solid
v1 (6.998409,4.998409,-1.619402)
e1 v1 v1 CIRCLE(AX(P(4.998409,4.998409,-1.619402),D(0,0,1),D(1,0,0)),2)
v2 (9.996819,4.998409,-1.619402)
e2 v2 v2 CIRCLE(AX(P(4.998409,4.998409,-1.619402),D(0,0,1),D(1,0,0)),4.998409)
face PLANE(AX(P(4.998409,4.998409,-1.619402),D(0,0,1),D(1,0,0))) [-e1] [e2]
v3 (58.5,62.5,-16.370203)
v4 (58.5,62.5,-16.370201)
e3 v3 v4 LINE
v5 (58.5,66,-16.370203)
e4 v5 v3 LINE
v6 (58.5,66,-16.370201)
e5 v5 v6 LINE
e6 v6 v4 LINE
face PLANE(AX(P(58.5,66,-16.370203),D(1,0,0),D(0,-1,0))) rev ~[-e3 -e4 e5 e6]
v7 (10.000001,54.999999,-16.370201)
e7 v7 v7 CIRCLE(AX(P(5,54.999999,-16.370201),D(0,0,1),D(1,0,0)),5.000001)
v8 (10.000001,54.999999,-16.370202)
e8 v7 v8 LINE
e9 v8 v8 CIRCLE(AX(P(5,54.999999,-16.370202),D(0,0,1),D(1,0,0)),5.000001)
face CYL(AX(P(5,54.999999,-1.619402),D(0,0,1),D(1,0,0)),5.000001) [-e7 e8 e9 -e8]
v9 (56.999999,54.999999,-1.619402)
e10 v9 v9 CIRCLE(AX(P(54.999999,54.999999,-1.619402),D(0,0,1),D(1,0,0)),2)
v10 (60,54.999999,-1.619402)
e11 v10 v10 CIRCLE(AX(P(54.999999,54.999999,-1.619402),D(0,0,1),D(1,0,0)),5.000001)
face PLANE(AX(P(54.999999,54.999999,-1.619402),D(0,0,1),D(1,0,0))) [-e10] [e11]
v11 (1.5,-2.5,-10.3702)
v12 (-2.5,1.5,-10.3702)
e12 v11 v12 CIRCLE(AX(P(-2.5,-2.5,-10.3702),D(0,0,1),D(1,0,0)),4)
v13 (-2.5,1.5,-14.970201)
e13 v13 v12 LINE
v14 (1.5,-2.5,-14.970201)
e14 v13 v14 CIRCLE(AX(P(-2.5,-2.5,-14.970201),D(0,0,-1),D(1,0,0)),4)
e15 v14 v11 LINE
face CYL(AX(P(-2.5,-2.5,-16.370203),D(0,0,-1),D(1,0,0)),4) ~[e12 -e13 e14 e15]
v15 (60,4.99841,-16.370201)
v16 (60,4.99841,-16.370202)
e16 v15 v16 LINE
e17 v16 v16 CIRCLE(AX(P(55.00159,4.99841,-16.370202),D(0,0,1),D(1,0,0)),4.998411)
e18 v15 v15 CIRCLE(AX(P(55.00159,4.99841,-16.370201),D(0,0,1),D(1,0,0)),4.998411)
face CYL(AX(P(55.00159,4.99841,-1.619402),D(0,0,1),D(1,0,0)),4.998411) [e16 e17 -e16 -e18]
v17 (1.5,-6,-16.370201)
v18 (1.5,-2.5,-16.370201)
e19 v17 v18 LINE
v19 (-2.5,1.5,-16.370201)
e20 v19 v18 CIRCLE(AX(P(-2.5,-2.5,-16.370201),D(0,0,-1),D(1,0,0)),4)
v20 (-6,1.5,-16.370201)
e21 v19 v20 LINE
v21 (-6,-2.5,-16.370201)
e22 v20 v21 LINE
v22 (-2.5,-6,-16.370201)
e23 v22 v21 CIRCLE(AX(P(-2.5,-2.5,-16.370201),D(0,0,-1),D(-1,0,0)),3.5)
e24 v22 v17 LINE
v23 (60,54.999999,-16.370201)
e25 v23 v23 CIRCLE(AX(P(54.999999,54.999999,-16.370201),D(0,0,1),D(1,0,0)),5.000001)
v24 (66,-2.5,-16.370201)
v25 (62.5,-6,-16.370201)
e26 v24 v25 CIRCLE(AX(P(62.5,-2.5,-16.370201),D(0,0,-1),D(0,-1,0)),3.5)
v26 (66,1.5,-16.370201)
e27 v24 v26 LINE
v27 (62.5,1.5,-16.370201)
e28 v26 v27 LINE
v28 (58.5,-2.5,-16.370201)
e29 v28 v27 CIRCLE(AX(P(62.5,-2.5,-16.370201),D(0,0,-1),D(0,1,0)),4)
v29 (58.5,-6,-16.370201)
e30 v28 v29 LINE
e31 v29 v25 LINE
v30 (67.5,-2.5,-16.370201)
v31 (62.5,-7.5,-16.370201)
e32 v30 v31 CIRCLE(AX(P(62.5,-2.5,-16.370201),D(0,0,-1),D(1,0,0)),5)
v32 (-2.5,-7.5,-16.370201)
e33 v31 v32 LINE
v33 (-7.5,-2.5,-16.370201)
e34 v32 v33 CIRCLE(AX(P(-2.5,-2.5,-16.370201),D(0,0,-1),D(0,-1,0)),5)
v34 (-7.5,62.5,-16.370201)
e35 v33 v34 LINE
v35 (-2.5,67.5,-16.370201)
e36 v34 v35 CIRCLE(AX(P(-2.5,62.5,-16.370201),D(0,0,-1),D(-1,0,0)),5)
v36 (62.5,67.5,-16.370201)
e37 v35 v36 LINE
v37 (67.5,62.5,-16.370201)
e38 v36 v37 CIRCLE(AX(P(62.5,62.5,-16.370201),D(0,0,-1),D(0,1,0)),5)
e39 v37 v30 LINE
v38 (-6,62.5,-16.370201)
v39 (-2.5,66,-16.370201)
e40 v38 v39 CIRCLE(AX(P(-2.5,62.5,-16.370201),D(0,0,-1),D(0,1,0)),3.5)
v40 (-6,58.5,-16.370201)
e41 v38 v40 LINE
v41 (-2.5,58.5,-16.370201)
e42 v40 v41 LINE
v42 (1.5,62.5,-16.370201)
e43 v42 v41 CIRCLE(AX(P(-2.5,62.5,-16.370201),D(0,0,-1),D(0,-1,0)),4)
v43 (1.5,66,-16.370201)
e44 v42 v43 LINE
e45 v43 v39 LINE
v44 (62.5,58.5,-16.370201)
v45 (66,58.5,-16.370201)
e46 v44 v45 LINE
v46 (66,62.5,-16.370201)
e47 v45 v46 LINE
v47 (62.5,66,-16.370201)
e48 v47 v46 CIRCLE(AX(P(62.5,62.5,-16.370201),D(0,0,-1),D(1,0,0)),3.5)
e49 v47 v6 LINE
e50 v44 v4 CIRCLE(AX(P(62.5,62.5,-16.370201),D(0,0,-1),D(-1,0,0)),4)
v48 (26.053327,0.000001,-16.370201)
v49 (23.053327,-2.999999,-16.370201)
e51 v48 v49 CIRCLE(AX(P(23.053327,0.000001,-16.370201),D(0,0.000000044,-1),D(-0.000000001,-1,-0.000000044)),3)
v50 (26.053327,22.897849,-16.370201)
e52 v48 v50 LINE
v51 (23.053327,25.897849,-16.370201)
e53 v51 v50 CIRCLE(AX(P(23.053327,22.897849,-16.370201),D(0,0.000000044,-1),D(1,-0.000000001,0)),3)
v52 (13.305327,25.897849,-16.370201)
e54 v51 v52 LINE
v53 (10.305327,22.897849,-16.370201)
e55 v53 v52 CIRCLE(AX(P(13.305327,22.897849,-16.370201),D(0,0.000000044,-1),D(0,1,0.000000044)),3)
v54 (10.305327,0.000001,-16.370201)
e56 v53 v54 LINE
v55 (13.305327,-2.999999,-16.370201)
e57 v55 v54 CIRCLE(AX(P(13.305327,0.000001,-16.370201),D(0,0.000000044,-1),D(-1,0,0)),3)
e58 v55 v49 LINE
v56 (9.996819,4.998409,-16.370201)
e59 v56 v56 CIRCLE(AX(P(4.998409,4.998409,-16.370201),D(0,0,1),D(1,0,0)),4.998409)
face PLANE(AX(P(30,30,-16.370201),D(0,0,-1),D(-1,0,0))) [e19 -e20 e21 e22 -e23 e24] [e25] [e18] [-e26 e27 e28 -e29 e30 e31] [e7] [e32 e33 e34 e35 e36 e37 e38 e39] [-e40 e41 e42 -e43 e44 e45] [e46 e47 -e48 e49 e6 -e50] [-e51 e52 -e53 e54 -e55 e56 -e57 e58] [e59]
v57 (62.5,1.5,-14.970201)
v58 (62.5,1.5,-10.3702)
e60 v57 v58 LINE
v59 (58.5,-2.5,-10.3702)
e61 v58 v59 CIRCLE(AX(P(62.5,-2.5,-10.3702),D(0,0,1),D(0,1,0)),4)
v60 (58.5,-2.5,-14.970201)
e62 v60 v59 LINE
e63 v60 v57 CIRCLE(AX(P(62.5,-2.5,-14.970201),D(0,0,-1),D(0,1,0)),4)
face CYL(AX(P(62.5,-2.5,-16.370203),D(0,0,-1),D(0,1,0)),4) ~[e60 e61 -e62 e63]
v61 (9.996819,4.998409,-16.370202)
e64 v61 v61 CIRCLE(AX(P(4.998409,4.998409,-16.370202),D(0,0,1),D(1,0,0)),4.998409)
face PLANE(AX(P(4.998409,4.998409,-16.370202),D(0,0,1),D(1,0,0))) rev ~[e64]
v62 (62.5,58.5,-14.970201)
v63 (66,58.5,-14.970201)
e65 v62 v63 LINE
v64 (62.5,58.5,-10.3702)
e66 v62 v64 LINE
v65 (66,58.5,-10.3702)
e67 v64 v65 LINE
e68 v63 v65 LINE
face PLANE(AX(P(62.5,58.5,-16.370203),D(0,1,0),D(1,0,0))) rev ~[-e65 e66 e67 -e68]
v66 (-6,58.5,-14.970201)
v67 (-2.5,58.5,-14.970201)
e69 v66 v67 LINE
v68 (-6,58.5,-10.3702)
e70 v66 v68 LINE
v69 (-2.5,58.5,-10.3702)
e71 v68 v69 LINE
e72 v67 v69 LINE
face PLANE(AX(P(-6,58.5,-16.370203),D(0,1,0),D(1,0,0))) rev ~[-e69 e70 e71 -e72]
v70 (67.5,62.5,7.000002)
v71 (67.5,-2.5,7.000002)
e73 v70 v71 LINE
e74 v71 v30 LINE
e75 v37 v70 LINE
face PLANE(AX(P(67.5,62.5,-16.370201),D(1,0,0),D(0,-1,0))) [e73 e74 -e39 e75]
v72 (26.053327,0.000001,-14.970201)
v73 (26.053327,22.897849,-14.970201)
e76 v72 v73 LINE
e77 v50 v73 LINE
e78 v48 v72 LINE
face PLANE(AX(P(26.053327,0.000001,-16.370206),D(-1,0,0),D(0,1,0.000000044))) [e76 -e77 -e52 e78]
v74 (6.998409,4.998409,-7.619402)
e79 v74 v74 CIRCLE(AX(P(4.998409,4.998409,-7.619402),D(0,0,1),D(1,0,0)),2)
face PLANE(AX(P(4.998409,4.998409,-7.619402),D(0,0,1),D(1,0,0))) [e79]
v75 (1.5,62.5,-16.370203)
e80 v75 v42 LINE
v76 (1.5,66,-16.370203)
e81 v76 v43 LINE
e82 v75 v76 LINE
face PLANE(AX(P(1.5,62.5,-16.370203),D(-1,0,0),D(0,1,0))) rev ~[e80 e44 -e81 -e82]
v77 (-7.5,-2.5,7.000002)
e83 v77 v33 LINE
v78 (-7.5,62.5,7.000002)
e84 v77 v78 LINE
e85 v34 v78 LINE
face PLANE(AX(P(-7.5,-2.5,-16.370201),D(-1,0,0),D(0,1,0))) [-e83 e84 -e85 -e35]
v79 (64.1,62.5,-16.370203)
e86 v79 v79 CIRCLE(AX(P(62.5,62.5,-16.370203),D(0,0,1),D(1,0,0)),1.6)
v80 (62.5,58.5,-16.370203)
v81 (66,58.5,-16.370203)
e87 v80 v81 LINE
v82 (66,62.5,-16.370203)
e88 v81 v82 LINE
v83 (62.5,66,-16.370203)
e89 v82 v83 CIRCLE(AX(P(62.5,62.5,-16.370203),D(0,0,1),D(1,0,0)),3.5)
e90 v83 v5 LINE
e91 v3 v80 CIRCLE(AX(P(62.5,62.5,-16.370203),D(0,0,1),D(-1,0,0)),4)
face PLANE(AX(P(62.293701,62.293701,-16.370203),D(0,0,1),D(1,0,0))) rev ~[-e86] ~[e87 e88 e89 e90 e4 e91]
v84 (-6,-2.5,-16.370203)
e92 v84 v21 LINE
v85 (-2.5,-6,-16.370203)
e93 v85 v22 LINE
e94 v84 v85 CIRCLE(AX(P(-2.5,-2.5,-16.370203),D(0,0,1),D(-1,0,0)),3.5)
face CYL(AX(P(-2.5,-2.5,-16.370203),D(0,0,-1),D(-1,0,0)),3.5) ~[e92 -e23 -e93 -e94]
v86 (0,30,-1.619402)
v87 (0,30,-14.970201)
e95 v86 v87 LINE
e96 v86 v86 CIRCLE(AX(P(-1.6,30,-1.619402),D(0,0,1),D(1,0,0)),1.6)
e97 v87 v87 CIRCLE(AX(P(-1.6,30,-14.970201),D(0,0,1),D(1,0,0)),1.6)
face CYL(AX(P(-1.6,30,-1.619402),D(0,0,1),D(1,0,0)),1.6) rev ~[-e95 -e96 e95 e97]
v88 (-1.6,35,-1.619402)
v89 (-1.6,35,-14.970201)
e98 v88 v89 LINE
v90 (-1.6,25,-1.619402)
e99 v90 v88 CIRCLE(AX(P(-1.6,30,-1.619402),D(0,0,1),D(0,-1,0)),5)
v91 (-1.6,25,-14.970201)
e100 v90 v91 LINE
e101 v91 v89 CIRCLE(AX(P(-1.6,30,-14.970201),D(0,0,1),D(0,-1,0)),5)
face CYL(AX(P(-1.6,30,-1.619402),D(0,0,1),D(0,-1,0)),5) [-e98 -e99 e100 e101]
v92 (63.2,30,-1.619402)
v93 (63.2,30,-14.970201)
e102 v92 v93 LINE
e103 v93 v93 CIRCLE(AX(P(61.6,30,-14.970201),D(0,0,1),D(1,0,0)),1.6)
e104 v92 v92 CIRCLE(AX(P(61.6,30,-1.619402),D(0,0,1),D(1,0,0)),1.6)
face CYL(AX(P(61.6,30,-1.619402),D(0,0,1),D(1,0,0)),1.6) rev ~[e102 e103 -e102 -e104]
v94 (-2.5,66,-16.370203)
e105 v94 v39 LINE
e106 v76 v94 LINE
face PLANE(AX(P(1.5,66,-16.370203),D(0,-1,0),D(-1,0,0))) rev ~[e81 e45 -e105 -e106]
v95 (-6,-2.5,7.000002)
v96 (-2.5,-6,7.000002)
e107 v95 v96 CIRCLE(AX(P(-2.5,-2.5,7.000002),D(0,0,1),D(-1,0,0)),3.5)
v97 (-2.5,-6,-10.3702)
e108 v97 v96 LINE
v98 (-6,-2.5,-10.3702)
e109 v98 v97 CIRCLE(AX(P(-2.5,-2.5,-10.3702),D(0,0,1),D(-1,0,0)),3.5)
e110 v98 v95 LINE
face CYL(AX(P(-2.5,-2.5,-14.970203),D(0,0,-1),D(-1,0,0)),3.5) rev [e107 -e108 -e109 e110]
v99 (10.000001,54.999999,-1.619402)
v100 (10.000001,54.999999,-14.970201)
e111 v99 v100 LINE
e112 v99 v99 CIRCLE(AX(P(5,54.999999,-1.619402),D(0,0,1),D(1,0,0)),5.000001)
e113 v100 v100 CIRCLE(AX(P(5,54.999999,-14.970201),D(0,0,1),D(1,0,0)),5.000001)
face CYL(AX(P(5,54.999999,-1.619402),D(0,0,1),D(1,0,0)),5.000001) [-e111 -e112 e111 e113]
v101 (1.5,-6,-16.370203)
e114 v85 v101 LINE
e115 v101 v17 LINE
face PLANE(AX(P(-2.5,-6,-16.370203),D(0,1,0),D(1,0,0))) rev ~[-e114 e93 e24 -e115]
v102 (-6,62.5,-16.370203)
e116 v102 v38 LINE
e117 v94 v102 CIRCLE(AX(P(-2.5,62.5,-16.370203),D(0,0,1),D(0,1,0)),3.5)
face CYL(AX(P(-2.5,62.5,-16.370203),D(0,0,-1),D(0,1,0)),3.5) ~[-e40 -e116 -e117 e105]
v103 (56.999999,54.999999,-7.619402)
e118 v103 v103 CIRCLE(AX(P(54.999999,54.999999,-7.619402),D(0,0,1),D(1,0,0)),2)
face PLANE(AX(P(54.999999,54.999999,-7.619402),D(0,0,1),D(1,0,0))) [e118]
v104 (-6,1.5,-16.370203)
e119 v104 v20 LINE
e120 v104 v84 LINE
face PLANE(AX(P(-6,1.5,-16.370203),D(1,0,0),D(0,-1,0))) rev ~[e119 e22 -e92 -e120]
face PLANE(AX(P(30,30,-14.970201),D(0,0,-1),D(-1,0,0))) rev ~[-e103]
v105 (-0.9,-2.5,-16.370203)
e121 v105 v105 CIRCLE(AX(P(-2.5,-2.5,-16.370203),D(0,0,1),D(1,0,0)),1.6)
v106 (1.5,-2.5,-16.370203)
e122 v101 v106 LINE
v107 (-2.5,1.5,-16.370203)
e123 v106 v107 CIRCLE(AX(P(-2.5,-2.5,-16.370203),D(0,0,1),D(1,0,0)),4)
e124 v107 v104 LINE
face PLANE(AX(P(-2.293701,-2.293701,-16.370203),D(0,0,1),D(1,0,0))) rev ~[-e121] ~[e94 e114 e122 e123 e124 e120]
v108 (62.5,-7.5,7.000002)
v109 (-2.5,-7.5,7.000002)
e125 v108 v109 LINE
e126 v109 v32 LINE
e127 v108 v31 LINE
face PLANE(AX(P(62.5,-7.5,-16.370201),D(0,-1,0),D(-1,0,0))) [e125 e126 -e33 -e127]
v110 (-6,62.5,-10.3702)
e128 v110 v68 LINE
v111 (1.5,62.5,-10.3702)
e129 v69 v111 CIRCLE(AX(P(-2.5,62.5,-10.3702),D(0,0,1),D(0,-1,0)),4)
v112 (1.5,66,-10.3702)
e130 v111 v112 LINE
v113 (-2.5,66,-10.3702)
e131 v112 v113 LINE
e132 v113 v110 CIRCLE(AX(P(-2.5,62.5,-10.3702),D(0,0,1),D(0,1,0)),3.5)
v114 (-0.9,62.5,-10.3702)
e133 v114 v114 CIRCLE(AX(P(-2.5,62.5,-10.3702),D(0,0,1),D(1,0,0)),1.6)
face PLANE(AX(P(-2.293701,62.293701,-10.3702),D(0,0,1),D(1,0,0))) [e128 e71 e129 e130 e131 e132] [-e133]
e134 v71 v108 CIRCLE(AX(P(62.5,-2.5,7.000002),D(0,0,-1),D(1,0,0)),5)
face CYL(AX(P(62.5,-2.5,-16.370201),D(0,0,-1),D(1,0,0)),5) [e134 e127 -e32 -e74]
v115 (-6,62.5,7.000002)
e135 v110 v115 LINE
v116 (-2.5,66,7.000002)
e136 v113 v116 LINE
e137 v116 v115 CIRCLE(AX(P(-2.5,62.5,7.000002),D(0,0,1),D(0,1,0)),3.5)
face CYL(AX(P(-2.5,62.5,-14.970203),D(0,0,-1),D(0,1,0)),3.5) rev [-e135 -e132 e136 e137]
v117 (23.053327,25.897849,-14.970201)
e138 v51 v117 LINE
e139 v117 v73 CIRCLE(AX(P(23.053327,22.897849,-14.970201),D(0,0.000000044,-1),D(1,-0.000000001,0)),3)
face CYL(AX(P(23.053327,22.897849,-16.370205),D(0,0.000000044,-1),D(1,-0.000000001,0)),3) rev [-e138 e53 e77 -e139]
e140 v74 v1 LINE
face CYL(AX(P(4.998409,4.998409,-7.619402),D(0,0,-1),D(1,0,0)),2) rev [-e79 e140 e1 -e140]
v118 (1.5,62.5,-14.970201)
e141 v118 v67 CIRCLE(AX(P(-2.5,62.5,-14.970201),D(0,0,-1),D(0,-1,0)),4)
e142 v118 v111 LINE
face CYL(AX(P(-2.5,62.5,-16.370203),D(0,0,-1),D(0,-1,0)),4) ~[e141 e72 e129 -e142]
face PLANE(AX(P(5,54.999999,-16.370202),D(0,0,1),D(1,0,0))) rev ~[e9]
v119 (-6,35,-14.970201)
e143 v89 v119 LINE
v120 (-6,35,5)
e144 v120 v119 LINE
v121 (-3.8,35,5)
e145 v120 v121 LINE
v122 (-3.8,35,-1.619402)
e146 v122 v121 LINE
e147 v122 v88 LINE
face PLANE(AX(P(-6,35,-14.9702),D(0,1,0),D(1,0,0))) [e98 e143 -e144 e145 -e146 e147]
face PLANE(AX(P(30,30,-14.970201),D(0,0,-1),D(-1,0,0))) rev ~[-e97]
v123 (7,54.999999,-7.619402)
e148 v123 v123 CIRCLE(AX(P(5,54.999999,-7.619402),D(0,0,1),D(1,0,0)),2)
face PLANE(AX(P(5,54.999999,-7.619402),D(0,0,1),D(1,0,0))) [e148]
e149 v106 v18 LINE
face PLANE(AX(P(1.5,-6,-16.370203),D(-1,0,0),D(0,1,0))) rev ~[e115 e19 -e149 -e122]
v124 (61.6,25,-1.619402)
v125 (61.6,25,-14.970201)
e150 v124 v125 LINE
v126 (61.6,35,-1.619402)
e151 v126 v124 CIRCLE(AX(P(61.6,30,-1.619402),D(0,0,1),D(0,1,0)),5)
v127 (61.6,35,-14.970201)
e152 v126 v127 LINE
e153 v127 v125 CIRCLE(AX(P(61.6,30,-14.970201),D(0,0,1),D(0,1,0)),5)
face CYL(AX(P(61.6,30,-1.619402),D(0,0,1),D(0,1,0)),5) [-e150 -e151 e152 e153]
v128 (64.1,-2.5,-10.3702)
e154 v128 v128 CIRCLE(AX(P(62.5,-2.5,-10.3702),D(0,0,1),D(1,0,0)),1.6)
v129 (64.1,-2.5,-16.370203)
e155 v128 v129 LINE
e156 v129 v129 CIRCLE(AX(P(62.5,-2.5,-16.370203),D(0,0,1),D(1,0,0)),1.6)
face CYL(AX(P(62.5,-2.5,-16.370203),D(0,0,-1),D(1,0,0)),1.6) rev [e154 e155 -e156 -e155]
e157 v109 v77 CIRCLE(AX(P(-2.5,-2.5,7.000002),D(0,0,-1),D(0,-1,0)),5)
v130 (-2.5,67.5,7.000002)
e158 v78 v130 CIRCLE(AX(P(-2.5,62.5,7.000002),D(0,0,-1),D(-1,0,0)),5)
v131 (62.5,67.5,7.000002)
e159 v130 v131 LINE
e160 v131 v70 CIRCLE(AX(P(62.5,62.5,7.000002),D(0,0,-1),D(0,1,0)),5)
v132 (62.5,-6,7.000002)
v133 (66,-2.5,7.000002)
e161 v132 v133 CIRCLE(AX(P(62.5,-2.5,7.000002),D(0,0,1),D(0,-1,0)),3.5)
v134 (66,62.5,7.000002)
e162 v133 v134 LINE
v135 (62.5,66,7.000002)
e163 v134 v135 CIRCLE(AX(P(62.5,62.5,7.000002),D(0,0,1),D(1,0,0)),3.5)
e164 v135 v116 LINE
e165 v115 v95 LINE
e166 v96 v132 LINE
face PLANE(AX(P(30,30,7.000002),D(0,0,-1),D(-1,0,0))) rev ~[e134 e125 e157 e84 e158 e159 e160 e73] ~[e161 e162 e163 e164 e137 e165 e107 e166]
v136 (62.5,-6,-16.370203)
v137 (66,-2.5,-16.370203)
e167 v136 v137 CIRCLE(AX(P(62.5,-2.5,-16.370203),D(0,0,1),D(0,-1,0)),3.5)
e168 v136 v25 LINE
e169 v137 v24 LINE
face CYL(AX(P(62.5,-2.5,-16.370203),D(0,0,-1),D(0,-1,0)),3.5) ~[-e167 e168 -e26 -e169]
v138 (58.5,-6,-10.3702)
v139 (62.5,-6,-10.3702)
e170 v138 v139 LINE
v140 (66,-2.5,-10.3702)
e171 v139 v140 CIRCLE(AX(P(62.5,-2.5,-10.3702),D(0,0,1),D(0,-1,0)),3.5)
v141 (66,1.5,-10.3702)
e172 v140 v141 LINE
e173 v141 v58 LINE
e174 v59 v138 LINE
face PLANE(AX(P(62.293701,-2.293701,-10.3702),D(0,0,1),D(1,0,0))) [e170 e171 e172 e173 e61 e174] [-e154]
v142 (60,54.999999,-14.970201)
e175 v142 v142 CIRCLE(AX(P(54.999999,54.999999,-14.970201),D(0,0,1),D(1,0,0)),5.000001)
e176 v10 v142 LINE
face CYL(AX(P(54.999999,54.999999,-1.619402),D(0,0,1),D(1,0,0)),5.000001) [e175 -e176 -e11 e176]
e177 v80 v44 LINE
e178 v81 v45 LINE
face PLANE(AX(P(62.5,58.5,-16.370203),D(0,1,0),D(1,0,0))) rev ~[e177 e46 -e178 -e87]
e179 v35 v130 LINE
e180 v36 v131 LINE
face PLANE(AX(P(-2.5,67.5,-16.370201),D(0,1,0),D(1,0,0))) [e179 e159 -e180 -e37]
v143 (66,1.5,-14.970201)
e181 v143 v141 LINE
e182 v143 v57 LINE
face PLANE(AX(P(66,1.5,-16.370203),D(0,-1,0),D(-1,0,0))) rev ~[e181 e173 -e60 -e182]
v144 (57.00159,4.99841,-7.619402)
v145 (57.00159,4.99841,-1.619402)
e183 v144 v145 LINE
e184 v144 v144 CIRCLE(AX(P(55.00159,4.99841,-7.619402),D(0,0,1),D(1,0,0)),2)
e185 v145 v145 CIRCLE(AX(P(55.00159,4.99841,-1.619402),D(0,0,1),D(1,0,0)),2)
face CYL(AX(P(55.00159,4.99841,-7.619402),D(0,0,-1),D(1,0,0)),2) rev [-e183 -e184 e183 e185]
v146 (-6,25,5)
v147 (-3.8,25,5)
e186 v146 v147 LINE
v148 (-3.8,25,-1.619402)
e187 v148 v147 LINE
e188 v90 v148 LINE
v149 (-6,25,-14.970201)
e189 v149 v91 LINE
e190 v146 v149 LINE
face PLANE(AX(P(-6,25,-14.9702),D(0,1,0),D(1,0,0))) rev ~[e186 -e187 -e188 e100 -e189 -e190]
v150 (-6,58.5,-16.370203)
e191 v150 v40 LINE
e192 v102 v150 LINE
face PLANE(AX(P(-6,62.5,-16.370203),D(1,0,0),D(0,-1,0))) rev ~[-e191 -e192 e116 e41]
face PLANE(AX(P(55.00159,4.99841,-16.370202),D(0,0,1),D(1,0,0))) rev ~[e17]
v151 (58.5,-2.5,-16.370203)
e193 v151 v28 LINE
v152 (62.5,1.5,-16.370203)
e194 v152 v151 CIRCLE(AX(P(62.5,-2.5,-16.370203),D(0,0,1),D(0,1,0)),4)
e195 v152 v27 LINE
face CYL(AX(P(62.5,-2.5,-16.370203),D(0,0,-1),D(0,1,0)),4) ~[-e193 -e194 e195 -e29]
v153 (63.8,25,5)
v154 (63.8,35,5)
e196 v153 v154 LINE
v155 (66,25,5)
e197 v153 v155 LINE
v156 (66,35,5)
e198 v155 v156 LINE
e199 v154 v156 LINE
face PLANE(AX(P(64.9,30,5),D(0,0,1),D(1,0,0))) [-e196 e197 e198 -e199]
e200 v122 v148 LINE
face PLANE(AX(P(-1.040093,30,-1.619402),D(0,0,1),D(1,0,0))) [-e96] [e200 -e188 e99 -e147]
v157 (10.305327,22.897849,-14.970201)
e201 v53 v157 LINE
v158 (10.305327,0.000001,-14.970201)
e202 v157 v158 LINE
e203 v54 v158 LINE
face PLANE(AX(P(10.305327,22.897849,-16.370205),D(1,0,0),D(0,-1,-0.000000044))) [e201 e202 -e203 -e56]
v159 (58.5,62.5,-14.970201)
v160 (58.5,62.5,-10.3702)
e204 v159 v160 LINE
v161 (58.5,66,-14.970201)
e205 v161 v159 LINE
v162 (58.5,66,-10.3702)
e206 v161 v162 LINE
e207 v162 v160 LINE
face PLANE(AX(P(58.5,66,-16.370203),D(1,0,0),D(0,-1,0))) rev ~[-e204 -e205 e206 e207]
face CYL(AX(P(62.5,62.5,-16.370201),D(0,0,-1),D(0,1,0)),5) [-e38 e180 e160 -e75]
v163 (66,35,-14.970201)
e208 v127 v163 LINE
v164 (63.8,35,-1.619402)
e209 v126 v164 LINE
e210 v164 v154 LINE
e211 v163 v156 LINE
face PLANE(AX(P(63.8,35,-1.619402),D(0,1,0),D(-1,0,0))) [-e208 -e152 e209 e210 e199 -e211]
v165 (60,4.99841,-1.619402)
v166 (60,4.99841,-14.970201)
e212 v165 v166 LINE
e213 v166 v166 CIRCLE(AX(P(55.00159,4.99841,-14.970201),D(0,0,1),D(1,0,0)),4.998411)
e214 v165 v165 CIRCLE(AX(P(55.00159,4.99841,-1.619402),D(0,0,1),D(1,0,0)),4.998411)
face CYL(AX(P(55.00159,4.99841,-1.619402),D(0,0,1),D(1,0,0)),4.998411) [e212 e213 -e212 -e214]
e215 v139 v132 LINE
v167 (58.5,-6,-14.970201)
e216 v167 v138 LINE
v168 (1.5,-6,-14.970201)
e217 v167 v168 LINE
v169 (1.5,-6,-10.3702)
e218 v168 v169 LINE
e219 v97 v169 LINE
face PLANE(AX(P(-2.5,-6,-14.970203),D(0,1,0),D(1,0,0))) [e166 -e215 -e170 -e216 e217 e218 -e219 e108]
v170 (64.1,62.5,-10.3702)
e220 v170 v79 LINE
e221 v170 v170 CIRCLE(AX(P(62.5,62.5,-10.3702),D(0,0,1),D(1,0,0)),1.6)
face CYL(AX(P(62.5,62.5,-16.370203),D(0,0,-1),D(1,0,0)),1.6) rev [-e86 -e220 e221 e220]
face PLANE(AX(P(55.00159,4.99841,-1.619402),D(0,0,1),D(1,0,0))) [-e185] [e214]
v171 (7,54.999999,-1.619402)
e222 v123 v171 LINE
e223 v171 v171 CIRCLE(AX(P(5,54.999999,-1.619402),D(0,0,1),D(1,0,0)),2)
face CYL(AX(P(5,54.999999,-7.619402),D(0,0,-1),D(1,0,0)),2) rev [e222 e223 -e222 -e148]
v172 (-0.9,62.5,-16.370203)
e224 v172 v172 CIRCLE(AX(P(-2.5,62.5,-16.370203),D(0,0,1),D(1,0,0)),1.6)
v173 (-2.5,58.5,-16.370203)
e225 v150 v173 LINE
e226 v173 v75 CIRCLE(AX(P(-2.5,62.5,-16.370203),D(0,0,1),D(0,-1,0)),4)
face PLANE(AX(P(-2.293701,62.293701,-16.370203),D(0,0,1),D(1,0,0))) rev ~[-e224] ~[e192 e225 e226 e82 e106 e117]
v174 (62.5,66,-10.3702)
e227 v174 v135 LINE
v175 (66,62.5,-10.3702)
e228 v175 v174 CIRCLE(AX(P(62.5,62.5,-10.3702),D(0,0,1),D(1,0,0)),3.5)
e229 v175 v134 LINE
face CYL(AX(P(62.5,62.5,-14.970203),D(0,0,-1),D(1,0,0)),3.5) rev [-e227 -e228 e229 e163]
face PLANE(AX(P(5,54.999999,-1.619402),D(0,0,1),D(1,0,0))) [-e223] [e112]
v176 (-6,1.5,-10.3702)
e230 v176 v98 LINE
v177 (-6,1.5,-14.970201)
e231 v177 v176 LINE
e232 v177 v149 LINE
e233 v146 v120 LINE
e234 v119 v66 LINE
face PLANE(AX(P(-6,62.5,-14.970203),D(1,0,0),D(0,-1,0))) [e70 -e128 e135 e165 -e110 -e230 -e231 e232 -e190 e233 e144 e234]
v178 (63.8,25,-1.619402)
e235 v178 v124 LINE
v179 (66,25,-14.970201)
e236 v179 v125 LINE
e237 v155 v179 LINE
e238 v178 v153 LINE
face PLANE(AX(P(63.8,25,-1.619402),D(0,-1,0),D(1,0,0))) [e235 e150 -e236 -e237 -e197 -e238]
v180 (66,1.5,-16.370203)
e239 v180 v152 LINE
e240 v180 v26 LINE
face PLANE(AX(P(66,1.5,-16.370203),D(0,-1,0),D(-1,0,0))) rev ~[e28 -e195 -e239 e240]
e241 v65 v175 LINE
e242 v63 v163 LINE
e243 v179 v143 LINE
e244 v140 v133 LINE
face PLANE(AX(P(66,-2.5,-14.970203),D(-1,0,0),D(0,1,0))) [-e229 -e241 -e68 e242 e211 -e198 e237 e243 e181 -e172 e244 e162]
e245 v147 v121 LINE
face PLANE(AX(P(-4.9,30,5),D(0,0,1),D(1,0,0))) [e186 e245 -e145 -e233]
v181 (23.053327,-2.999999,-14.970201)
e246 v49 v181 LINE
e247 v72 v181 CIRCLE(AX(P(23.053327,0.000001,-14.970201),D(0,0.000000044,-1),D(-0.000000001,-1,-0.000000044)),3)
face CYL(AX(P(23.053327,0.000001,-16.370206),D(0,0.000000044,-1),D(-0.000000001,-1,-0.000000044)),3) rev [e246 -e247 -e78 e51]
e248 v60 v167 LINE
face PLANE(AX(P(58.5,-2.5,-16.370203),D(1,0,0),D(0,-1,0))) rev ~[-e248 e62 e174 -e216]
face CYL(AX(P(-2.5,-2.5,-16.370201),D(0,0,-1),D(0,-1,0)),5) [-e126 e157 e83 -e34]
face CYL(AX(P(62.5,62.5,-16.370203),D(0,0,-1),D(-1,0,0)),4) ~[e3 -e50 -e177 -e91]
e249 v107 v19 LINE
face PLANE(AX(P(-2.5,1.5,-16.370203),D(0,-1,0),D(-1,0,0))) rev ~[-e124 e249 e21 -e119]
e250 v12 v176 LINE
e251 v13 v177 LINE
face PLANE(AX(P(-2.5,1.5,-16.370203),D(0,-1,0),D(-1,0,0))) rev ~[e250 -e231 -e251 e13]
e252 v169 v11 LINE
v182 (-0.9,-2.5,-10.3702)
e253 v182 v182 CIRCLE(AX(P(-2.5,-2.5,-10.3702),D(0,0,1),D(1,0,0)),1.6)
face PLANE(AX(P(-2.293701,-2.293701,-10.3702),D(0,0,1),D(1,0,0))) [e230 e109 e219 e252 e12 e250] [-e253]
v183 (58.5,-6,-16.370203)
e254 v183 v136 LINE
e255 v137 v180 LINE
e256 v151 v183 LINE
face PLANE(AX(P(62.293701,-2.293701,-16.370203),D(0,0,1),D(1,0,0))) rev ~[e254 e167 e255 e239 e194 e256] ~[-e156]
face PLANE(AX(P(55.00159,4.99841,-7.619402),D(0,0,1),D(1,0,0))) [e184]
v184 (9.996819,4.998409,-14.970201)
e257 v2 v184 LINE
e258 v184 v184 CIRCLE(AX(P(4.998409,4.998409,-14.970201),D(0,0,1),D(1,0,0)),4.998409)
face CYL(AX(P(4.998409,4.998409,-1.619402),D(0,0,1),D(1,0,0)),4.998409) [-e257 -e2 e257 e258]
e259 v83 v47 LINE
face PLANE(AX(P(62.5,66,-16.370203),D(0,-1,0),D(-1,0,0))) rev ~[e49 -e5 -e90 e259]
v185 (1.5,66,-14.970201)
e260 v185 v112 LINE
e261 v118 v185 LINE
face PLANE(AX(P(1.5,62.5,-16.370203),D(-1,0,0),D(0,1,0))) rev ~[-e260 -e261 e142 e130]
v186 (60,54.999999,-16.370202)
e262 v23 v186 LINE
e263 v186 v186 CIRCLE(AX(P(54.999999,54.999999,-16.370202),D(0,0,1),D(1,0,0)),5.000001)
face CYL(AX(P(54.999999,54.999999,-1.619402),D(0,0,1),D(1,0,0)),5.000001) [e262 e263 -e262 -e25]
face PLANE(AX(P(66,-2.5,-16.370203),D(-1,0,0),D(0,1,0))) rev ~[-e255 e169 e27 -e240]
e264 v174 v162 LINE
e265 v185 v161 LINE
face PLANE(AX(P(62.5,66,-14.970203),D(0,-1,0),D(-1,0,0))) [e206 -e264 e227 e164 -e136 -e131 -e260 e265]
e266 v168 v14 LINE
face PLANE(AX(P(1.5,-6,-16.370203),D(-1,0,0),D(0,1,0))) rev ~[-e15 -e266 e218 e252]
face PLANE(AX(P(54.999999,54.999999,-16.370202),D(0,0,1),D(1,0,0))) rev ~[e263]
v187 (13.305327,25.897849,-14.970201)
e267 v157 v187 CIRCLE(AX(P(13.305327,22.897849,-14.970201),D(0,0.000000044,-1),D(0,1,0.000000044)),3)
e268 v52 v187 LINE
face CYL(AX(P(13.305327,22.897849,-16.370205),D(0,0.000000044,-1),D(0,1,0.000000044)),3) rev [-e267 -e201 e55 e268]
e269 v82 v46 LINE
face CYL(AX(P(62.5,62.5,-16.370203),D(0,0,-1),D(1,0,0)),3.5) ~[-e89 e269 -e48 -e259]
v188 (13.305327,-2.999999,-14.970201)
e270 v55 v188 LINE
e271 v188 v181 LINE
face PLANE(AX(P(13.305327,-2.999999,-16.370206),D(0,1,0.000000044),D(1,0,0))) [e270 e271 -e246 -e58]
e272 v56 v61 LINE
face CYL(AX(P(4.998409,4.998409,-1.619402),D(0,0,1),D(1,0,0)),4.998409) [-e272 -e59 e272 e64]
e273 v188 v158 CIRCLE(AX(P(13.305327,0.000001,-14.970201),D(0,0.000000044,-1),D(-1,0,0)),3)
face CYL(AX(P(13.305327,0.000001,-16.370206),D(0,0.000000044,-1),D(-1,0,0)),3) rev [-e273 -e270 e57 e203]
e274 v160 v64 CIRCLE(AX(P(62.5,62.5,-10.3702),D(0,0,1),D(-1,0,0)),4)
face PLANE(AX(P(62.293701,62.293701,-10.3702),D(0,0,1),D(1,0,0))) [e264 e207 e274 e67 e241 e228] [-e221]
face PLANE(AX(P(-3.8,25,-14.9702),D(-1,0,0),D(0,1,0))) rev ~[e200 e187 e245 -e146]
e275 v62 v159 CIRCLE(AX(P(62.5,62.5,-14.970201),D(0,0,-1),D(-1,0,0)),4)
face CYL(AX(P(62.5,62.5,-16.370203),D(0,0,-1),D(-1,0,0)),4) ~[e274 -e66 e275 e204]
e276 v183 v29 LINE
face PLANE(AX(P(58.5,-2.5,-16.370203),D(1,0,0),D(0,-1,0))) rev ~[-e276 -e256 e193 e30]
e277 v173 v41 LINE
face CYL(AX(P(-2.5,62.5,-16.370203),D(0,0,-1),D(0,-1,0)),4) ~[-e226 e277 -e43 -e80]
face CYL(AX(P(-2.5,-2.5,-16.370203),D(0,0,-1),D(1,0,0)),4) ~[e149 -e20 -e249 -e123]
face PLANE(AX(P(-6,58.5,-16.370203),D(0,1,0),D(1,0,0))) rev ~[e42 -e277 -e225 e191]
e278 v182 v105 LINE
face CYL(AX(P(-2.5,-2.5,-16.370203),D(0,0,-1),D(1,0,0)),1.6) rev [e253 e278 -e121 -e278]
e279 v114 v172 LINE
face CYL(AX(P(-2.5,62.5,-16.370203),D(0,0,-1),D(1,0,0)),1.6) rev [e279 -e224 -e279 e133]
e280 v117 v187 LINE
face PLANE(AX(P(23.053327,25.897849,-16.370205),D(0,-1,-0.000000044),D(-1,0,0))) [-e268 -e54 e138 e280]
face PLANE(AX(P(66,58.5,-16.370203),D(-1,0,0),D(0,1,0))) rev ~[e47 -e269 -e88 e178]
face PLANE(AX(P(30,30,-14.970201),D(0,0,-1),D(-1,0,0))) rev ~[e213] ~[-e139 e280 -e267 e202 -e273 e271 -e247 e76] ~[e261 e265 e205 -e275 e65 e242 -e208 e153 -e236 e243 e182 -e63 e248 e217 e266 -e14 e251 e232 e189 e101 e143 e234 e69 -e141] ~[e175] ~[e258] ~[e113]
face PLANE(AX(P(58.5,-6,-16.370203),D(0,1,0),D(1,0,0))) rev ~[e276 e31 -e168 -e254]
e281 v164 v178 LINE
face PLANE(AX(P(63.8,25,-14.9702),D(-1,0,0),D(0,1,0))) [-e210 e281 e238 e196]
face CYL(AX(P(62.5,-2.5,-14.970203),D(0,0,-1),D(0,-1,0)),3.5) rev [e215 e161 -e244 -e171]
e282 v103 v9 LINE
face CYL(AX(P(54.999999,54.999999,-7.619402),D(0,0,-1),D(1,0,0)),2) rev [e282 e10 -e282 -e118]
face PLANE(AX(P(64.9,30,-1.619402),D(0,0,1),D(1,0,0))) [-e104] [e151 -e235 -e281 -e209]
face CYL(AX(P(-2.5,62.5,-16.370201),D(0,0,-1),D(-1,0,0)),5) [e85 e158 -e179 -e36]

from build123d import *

# Parameters (mm, degrees)
SIDES_START         = -14.970203
SIDES_DEPTH         = 21.970205
BOSS_EXTRUDE2_START = -16.370201
SKETCH1_3_R         = 1.6
BOSS_EXTRUDE2_DEPTH = 1.4
BOSS_EXTRUDE3_START = -16.370203
SKETCH1_4_R         = 1.6
BOSS_EXTRUDE3_DEPTH = 6.000003
BOSS_EXTRUDE4_START = -1.619402
SKETCH1_5_R         = 4.998410694
SKETCH1_5_R_2       = 5.00000078
SKETCH1_5_R_3       = 4.998409474
SKETCH1_5_R_4       = 2
BOSS_EXTRUDE4_DEPTH = 14.75080016
CUT_EXTRUDE1_START  = -7.619402
SKETCH1_6_R         = 2
CUT_EXTRUDE1_DEPTH  = 6
BOSS_EXTRUDE5_START = -1.619402
SKETCH2_R           = 1.6
SKETCH2_W           = 2.2
SKETCH2_H           = 10
BOSS_EXTRUDE5_DEPTH = 13.350799067
BOSS_EXTRUDE6_START = -14.9702
SKETCH2_3_W         = 2.2
SKETCH2_3_H         = 10
BOSS_EXTRUDE6_DEPTH = 19.9702
CUT_EXTRUDE2_START  = -3e-06
CUT_EXTRUDE2_DEPTH  = 23.370208


with BuildPart() as part:
    # Sketch1 → sides (new body)
    with BuildSketch(Plane.XY.offset(SIDES_START)):
        with BuildLine():
            ThreePointArc((-7.5, 62.5), (-6.035533906, 66.035533906), (-2.5, 67.5))
            Line((-2.5, 67.5), (62.5, 67.5))
            ThreePointArc((62.5, 67.5), (66.035533906, 66.035533906), (67.5, 62.5))
            Line((67.5, 62.5), (67.5, -2.5))
            ThreePointArc((67.5, -2.5), (66.035533906, -6.035533906), (62.5, -7.5))
            Line((62.5, -7.5), (-2.5, -7.5))
            ThreePointArc((-2.5, -7.5), (-6.035533906, -6.035533906), (-7.5, -2.5))
            Line((-7.5, -2.5), (-7.5, 62.5))
        make_face()
        with BuildLine():
            ThreePointArc((66, 62.5), (64.974873734, 64.974873734), (62.5, 66))
            Line((62.5, 66), (61, 66))
            Line((61, 66), (-1, 66))
            Line((-1, 66), (-2.5, 66))
            ThreePointArc((-2.5, 66), (-4.974873734, 64.974873734), (-6, 62.5))
            Line((-6, 62.5), (-6, 61.010980342))
            Line((-6, 61.010980342), (-6, -1))
            Line((-6, -1), (-6, -2.5))
            ThreePointArc((-6, -2.5), (-4.974873734, -4.974873734), (-2.5, -6))
            Line((-2.5, -6), (-1, -6))
            Line((-1, -6), (61, -6))
            Line((61, -6), (62.5, -6))
            ThreePointArc((62.5, -6), (64.974873734, -4.974873734), (66, -2.5))
            Line((66, -2.5), (66, -1))
            Line((66, -1), (66, 61.010980342))
            Line((66, 61.010980342), (66, 62.5))
        make_face(mode=Mode.SUBTRACT)
    extrude(amount=SIDES_DEPTH)

    # Sketch1<3> → Boss-Extrude2 (add)
    with BuildSketch(Plane.XY.offset(BOSS_EXTRUDE2_START)):
        with BuildLine():
            Line((67.5, 62.5), (67.5, -2.5))
            ThreePointArc((67.5, -2.5), (66.035533906, -6.035533906), (62.5, -7.5))
            Line((62.5, -7.5), (-2.5, -7.5))
            ThreePointArc((-2.5, -7.5), (-6.035533906, -6.035533906), (-7.5, -2.5))
            Line((-7.5, -2.5), (-7.5, 62.5))
            ThreePointArc((-7.5, 62.5), (-6.035533906, 66.035533906), (-2.5, 67.5))
            Line((-2.5, 67.5), (62.5, 67.5))
            ThreePointArc((62.5, 67.5), (66.035533906, 66.035533906), (67.5, 62.5))
        make_face()
        with Locations((-2.5, 62.5)):
            Circle(SKETCH1_3_R, mode=Mode.SUBTRACT)
        with Locations((62.5, 62.5)):
            Circle(SKETCH1_3_R, mode=Mode.SUBTRACT)
        with Locations((-2.5, -2.5)):
            Circle(SKETCH1_3_R, mode=Mode.SUBTRACT)
        with Locations((62.5, -2.5)):
            Circle(SKETCH1_3_R, mode=Mode.SUBTRACT)
    extrude(amount=BOSS_EXTRUDE2_DEPTH)

    # Sketch1<4> → Boss-Extrude3 (add)
    # profile 1 of 4: a face of its own
    with BuildSketch(Plane.XY.offset(BOSS_EXTRUDE3_START)):
        with BuildLine():
            ThreePointArc((66, 62.5), (64.974873734, 64.974873734), (62.5, 66))
            Line((62.5, 66), (58.5, 66))
            Line((58.5, 66), (58.5, 62.5))
            ThreePointArc((58.5, 62.5), (59.671572875, 59.671572875), (62.5, 58.5))
            Line((62.5, 58.5), (66, 58.5))
            Line((66, 58.5), (66, 62.5))
        make_face()
        with Locations((62.5, 62.5)):
            Circle(SKETCH1_4_R, mode=Mode.SUBTRACT)
    # profile 2 of 4: a face of its own
    with BuildSketch(Plane.XY.offset(BOSS_EXTRUDE3_START)):
        with BuildLine():
            Line((1.5, 62.5), (1.5, 66))
            Line((1.5, 66), (-2.5, 66))
            ThreePointArc((-2.5, 66), (-4.974873734, 64.974873734), (-6, 62.5))
            Line((-6, 62.5), (-6, 58.5))
            Line((-6, 58.5), (-2.5, 58.5))
            ThreePointArc((-2.5, 58.5), (0.328427125, 59.671572875), (1.5, 62.5))
        make_face()
        with Locations((-2.5, 62.5)):
            Circle(SKETCH1_4_R, mode=Mode.SUBTRACT)
    # profile 3 of 4: a face of its own
    with BuildSketch(Plane.XY.offset(BOSS_EXTRUDE3_START)):
        with BuildLine():
            Line((66, -2.5), (66, 1.5))
            Line((66, 1.5), (62.5, 1.5))
            ThreePointArc((62.5, 1.5), (59.671572875, 0.328427125), (58.5, -2.5))
            Line((58.5, -2.5), (58.5, -6))
            Line((58.5, -6), (62.5, -6))
            ThreePointArc((62.5, -6), (64.974873734, -4.974873734), (66, -2.5))
        make_face()
        with Locations((62.5, -2.5)):
            Circle(SKETCH1_4_R, mode=Mode.SUBTRACT)
    # profile 4 of 4: a face of its own
    with BuildSketch(Plane.XY.offset(BOSS_EXTRUDE3_START)):
        with BuildLine():
            Line((-2.5, 1.5), (-6, 1.5))
            Line((-6, 1.5), (-6, -2.5))
            ThreePointArc((-6, -2.5), (-4.974873734, -4.974873734), (-2.5, -6))
            Line((-2.5, -6), (1.5, -6))
            Line((1.5, -6), (1.5, -2.5))
            ThreePointArc((1.5, -2.5), (0.328427125, 0.328427125), (-2.5, 1.5))
        make_face()
        with Locations((-2.5, -2.5)):
            Circle(SKETCH1_4_R, mode=Mode.SUBTRACT)
    extrude(amount=BOSS_EXTRUDE3_DEPTH)

    # Sketch1<5> → Boss-Extrude4 (add)
    with BuildSketch(Plane.XY.offset(BOSS_EXTRUDE4_START)):
        with Locations((55.001589559, 4.998410441)):
            Circle(SKETCH1_5_R)
        with Locations((54.99999922, 54.99999922)):
            Circle(SKETCH1_5_R_2)
        with Locations((5.00000016, 54.99999922)):
            Circle(SKETCH1_5_R_2)
        with Locations((4.998409221, 4.998409221)):
            Circle(SKETCH1_5_R_3)
        with Locations((4.998409221, 4.998409221)):
            Circle(SKETCH1_5_R_4)
        with Locations((55.001589559, 4.998410441)):
            Circle(SKETCH1_5_R_4)
        with Locations((54.99999922, 54.99999922)):
            Circle(SKETCH1_5_R_4)
        with Locations((5.00000016, 54.99999922)):
            Circle(SKETCH1_5_R_4)
    extrude(amount=-BOSS_EXTRUDE4_DEPTH)

    # Sketch1<6> → Cut-Extrude1 (cut)
    with BuildSketch(Plane.XY.offset(CUT_EXTRUDE1_START)):
        with Locations((4.998409221, 4.998409221)):
            Circle(SKETCH1_6_R)
        with Locations((55.001589559, 4.998410441)):
            Circle(SKETCH1_6_R)
        with Locations((54.99999922, 54.99999922)):
            Circle(SKETCH1_6_R)
        with Locations((5.00000016, 54.99999922)):
            Circle(SKETCH1_6_R)
    extrude(amount=CUT_EXTRUDE1_DEPTH, mode=Mode.SUBTRACT)

    # Sketch2 → Boss-Extrude5 (add)
    # profile 1 of 4: a face of its own
    with BuildSketch(Plane.XY.offset(BOSS_EXTRUDE5_START)):
        with BuildLine():
            ThreePointArc((-1.6, 25), (3.4, 30), (-1.6, 35))
            Line((-1.6, 35), (-3.8, 35))
            Line((-3.8, 35), (-3.8, 25))
            Line((-3.8, 25), (-1.6, 25))
        make_face()
        with Locations((-1.6, 30)):
            Circle(SKETCH2_R, mode=Mode.SUBTRACT)
    # profile 2 of 4: a face of its own
    with BuildSketch(Plane.XY.offset(BOSS_EXTRUDE5_START)):
        with Locations((-4.9, 30)):
            Rectangle(SKETCH2_W, SKETCH2_H)
    # profile 3 of 4: a face of its own
    with BuildSketch(Plane.XY.offset(BOSS_EXTRUDE5_START)):
        with BuildLine():
            Line((63.8, 35), (61.6, 35))
            ThreePointArc((61.6, 35), (56.6, 30), (61.6, 25))
            Line((61.6, 25), (63.8, 25))
            Line((63.8, 25), (63.8, 35))
        make_face()
        with Locations((61.6, 30)):
            Circle(SKETCH2_R, mode=Mode.SUBTRACT)
    # profile 4 of 4: a face of its own
    with BuildSketch(Plane.XY.offset(BOSS_EXTRUDE5_START)):
        with Locations((64.9, 30)):
            Rectangle(SKETCH2_W, SKETCH2_H)
    extrude(amount=-BOSS_EXTRUDE5_DEPTH)

    # Sketch2<3> → Boss-Extrude6 (add)
    with BuildSketch(Plane.XY.offset(BOSS_EXTRUDE6_START)):
        with Locations((-4.9, 30)):
            Rectangle(SKETCH2_3_W, SKETCH2_3_H)
        with Locations((64.9, 30)):
            Rectangle(SKETCH2_3_W, SKETCH2_3_H)
    extrude(amount=BOSS_EXTRUDE6_DEPTH)

    # Sketch3 → Cut-Extrude2 (cut)
    with BuildSketch(Plane(origin=(0, 7.16e-07, -16.370202778), x_dir=(1, 0, 0), z_dir=(4.178627238637217e-15, -4.371140900000003e-08, 0.999999999999999)).offset(CUT_EXTRUDE2_START)):
        with BuildLine():
            Line((23.053327071, 25.897848181), (13.305327071, 25.897848181))
            ThreePointArc((13.305327071, 25.897848181), (11.184006728, 25.019168525), (10.305327071, 22.897848181))
            Line((10.305327071, 22.897848181), (10.305327071, 3.06e-07))
            ThreePointArc((10.305327071, 3.06e-07), (11.184006728, -2.121320038), (13.305327071, -2.999999694))
            Line((13.305327071, -2.999999694), (23.053327071, -2.999999694))
            ThreePointArc((23.053327071, -2.999999694), (25.174647415, -2.121320038), (26.053327071, 3.06e-07))
            Line((26.053327071, 3.06e-07), (26.053327071, 22.897848181))
            ThreePointArc((26.053327071, 22.897848181), (25.174647415, 25.019168525), (23.053327071, 25.897848181))
        make_face()
    extrude(amount=CUT_EXTRUDE2_DEPTH, mode=Mode.SUBTRACT)


solid = part.part
